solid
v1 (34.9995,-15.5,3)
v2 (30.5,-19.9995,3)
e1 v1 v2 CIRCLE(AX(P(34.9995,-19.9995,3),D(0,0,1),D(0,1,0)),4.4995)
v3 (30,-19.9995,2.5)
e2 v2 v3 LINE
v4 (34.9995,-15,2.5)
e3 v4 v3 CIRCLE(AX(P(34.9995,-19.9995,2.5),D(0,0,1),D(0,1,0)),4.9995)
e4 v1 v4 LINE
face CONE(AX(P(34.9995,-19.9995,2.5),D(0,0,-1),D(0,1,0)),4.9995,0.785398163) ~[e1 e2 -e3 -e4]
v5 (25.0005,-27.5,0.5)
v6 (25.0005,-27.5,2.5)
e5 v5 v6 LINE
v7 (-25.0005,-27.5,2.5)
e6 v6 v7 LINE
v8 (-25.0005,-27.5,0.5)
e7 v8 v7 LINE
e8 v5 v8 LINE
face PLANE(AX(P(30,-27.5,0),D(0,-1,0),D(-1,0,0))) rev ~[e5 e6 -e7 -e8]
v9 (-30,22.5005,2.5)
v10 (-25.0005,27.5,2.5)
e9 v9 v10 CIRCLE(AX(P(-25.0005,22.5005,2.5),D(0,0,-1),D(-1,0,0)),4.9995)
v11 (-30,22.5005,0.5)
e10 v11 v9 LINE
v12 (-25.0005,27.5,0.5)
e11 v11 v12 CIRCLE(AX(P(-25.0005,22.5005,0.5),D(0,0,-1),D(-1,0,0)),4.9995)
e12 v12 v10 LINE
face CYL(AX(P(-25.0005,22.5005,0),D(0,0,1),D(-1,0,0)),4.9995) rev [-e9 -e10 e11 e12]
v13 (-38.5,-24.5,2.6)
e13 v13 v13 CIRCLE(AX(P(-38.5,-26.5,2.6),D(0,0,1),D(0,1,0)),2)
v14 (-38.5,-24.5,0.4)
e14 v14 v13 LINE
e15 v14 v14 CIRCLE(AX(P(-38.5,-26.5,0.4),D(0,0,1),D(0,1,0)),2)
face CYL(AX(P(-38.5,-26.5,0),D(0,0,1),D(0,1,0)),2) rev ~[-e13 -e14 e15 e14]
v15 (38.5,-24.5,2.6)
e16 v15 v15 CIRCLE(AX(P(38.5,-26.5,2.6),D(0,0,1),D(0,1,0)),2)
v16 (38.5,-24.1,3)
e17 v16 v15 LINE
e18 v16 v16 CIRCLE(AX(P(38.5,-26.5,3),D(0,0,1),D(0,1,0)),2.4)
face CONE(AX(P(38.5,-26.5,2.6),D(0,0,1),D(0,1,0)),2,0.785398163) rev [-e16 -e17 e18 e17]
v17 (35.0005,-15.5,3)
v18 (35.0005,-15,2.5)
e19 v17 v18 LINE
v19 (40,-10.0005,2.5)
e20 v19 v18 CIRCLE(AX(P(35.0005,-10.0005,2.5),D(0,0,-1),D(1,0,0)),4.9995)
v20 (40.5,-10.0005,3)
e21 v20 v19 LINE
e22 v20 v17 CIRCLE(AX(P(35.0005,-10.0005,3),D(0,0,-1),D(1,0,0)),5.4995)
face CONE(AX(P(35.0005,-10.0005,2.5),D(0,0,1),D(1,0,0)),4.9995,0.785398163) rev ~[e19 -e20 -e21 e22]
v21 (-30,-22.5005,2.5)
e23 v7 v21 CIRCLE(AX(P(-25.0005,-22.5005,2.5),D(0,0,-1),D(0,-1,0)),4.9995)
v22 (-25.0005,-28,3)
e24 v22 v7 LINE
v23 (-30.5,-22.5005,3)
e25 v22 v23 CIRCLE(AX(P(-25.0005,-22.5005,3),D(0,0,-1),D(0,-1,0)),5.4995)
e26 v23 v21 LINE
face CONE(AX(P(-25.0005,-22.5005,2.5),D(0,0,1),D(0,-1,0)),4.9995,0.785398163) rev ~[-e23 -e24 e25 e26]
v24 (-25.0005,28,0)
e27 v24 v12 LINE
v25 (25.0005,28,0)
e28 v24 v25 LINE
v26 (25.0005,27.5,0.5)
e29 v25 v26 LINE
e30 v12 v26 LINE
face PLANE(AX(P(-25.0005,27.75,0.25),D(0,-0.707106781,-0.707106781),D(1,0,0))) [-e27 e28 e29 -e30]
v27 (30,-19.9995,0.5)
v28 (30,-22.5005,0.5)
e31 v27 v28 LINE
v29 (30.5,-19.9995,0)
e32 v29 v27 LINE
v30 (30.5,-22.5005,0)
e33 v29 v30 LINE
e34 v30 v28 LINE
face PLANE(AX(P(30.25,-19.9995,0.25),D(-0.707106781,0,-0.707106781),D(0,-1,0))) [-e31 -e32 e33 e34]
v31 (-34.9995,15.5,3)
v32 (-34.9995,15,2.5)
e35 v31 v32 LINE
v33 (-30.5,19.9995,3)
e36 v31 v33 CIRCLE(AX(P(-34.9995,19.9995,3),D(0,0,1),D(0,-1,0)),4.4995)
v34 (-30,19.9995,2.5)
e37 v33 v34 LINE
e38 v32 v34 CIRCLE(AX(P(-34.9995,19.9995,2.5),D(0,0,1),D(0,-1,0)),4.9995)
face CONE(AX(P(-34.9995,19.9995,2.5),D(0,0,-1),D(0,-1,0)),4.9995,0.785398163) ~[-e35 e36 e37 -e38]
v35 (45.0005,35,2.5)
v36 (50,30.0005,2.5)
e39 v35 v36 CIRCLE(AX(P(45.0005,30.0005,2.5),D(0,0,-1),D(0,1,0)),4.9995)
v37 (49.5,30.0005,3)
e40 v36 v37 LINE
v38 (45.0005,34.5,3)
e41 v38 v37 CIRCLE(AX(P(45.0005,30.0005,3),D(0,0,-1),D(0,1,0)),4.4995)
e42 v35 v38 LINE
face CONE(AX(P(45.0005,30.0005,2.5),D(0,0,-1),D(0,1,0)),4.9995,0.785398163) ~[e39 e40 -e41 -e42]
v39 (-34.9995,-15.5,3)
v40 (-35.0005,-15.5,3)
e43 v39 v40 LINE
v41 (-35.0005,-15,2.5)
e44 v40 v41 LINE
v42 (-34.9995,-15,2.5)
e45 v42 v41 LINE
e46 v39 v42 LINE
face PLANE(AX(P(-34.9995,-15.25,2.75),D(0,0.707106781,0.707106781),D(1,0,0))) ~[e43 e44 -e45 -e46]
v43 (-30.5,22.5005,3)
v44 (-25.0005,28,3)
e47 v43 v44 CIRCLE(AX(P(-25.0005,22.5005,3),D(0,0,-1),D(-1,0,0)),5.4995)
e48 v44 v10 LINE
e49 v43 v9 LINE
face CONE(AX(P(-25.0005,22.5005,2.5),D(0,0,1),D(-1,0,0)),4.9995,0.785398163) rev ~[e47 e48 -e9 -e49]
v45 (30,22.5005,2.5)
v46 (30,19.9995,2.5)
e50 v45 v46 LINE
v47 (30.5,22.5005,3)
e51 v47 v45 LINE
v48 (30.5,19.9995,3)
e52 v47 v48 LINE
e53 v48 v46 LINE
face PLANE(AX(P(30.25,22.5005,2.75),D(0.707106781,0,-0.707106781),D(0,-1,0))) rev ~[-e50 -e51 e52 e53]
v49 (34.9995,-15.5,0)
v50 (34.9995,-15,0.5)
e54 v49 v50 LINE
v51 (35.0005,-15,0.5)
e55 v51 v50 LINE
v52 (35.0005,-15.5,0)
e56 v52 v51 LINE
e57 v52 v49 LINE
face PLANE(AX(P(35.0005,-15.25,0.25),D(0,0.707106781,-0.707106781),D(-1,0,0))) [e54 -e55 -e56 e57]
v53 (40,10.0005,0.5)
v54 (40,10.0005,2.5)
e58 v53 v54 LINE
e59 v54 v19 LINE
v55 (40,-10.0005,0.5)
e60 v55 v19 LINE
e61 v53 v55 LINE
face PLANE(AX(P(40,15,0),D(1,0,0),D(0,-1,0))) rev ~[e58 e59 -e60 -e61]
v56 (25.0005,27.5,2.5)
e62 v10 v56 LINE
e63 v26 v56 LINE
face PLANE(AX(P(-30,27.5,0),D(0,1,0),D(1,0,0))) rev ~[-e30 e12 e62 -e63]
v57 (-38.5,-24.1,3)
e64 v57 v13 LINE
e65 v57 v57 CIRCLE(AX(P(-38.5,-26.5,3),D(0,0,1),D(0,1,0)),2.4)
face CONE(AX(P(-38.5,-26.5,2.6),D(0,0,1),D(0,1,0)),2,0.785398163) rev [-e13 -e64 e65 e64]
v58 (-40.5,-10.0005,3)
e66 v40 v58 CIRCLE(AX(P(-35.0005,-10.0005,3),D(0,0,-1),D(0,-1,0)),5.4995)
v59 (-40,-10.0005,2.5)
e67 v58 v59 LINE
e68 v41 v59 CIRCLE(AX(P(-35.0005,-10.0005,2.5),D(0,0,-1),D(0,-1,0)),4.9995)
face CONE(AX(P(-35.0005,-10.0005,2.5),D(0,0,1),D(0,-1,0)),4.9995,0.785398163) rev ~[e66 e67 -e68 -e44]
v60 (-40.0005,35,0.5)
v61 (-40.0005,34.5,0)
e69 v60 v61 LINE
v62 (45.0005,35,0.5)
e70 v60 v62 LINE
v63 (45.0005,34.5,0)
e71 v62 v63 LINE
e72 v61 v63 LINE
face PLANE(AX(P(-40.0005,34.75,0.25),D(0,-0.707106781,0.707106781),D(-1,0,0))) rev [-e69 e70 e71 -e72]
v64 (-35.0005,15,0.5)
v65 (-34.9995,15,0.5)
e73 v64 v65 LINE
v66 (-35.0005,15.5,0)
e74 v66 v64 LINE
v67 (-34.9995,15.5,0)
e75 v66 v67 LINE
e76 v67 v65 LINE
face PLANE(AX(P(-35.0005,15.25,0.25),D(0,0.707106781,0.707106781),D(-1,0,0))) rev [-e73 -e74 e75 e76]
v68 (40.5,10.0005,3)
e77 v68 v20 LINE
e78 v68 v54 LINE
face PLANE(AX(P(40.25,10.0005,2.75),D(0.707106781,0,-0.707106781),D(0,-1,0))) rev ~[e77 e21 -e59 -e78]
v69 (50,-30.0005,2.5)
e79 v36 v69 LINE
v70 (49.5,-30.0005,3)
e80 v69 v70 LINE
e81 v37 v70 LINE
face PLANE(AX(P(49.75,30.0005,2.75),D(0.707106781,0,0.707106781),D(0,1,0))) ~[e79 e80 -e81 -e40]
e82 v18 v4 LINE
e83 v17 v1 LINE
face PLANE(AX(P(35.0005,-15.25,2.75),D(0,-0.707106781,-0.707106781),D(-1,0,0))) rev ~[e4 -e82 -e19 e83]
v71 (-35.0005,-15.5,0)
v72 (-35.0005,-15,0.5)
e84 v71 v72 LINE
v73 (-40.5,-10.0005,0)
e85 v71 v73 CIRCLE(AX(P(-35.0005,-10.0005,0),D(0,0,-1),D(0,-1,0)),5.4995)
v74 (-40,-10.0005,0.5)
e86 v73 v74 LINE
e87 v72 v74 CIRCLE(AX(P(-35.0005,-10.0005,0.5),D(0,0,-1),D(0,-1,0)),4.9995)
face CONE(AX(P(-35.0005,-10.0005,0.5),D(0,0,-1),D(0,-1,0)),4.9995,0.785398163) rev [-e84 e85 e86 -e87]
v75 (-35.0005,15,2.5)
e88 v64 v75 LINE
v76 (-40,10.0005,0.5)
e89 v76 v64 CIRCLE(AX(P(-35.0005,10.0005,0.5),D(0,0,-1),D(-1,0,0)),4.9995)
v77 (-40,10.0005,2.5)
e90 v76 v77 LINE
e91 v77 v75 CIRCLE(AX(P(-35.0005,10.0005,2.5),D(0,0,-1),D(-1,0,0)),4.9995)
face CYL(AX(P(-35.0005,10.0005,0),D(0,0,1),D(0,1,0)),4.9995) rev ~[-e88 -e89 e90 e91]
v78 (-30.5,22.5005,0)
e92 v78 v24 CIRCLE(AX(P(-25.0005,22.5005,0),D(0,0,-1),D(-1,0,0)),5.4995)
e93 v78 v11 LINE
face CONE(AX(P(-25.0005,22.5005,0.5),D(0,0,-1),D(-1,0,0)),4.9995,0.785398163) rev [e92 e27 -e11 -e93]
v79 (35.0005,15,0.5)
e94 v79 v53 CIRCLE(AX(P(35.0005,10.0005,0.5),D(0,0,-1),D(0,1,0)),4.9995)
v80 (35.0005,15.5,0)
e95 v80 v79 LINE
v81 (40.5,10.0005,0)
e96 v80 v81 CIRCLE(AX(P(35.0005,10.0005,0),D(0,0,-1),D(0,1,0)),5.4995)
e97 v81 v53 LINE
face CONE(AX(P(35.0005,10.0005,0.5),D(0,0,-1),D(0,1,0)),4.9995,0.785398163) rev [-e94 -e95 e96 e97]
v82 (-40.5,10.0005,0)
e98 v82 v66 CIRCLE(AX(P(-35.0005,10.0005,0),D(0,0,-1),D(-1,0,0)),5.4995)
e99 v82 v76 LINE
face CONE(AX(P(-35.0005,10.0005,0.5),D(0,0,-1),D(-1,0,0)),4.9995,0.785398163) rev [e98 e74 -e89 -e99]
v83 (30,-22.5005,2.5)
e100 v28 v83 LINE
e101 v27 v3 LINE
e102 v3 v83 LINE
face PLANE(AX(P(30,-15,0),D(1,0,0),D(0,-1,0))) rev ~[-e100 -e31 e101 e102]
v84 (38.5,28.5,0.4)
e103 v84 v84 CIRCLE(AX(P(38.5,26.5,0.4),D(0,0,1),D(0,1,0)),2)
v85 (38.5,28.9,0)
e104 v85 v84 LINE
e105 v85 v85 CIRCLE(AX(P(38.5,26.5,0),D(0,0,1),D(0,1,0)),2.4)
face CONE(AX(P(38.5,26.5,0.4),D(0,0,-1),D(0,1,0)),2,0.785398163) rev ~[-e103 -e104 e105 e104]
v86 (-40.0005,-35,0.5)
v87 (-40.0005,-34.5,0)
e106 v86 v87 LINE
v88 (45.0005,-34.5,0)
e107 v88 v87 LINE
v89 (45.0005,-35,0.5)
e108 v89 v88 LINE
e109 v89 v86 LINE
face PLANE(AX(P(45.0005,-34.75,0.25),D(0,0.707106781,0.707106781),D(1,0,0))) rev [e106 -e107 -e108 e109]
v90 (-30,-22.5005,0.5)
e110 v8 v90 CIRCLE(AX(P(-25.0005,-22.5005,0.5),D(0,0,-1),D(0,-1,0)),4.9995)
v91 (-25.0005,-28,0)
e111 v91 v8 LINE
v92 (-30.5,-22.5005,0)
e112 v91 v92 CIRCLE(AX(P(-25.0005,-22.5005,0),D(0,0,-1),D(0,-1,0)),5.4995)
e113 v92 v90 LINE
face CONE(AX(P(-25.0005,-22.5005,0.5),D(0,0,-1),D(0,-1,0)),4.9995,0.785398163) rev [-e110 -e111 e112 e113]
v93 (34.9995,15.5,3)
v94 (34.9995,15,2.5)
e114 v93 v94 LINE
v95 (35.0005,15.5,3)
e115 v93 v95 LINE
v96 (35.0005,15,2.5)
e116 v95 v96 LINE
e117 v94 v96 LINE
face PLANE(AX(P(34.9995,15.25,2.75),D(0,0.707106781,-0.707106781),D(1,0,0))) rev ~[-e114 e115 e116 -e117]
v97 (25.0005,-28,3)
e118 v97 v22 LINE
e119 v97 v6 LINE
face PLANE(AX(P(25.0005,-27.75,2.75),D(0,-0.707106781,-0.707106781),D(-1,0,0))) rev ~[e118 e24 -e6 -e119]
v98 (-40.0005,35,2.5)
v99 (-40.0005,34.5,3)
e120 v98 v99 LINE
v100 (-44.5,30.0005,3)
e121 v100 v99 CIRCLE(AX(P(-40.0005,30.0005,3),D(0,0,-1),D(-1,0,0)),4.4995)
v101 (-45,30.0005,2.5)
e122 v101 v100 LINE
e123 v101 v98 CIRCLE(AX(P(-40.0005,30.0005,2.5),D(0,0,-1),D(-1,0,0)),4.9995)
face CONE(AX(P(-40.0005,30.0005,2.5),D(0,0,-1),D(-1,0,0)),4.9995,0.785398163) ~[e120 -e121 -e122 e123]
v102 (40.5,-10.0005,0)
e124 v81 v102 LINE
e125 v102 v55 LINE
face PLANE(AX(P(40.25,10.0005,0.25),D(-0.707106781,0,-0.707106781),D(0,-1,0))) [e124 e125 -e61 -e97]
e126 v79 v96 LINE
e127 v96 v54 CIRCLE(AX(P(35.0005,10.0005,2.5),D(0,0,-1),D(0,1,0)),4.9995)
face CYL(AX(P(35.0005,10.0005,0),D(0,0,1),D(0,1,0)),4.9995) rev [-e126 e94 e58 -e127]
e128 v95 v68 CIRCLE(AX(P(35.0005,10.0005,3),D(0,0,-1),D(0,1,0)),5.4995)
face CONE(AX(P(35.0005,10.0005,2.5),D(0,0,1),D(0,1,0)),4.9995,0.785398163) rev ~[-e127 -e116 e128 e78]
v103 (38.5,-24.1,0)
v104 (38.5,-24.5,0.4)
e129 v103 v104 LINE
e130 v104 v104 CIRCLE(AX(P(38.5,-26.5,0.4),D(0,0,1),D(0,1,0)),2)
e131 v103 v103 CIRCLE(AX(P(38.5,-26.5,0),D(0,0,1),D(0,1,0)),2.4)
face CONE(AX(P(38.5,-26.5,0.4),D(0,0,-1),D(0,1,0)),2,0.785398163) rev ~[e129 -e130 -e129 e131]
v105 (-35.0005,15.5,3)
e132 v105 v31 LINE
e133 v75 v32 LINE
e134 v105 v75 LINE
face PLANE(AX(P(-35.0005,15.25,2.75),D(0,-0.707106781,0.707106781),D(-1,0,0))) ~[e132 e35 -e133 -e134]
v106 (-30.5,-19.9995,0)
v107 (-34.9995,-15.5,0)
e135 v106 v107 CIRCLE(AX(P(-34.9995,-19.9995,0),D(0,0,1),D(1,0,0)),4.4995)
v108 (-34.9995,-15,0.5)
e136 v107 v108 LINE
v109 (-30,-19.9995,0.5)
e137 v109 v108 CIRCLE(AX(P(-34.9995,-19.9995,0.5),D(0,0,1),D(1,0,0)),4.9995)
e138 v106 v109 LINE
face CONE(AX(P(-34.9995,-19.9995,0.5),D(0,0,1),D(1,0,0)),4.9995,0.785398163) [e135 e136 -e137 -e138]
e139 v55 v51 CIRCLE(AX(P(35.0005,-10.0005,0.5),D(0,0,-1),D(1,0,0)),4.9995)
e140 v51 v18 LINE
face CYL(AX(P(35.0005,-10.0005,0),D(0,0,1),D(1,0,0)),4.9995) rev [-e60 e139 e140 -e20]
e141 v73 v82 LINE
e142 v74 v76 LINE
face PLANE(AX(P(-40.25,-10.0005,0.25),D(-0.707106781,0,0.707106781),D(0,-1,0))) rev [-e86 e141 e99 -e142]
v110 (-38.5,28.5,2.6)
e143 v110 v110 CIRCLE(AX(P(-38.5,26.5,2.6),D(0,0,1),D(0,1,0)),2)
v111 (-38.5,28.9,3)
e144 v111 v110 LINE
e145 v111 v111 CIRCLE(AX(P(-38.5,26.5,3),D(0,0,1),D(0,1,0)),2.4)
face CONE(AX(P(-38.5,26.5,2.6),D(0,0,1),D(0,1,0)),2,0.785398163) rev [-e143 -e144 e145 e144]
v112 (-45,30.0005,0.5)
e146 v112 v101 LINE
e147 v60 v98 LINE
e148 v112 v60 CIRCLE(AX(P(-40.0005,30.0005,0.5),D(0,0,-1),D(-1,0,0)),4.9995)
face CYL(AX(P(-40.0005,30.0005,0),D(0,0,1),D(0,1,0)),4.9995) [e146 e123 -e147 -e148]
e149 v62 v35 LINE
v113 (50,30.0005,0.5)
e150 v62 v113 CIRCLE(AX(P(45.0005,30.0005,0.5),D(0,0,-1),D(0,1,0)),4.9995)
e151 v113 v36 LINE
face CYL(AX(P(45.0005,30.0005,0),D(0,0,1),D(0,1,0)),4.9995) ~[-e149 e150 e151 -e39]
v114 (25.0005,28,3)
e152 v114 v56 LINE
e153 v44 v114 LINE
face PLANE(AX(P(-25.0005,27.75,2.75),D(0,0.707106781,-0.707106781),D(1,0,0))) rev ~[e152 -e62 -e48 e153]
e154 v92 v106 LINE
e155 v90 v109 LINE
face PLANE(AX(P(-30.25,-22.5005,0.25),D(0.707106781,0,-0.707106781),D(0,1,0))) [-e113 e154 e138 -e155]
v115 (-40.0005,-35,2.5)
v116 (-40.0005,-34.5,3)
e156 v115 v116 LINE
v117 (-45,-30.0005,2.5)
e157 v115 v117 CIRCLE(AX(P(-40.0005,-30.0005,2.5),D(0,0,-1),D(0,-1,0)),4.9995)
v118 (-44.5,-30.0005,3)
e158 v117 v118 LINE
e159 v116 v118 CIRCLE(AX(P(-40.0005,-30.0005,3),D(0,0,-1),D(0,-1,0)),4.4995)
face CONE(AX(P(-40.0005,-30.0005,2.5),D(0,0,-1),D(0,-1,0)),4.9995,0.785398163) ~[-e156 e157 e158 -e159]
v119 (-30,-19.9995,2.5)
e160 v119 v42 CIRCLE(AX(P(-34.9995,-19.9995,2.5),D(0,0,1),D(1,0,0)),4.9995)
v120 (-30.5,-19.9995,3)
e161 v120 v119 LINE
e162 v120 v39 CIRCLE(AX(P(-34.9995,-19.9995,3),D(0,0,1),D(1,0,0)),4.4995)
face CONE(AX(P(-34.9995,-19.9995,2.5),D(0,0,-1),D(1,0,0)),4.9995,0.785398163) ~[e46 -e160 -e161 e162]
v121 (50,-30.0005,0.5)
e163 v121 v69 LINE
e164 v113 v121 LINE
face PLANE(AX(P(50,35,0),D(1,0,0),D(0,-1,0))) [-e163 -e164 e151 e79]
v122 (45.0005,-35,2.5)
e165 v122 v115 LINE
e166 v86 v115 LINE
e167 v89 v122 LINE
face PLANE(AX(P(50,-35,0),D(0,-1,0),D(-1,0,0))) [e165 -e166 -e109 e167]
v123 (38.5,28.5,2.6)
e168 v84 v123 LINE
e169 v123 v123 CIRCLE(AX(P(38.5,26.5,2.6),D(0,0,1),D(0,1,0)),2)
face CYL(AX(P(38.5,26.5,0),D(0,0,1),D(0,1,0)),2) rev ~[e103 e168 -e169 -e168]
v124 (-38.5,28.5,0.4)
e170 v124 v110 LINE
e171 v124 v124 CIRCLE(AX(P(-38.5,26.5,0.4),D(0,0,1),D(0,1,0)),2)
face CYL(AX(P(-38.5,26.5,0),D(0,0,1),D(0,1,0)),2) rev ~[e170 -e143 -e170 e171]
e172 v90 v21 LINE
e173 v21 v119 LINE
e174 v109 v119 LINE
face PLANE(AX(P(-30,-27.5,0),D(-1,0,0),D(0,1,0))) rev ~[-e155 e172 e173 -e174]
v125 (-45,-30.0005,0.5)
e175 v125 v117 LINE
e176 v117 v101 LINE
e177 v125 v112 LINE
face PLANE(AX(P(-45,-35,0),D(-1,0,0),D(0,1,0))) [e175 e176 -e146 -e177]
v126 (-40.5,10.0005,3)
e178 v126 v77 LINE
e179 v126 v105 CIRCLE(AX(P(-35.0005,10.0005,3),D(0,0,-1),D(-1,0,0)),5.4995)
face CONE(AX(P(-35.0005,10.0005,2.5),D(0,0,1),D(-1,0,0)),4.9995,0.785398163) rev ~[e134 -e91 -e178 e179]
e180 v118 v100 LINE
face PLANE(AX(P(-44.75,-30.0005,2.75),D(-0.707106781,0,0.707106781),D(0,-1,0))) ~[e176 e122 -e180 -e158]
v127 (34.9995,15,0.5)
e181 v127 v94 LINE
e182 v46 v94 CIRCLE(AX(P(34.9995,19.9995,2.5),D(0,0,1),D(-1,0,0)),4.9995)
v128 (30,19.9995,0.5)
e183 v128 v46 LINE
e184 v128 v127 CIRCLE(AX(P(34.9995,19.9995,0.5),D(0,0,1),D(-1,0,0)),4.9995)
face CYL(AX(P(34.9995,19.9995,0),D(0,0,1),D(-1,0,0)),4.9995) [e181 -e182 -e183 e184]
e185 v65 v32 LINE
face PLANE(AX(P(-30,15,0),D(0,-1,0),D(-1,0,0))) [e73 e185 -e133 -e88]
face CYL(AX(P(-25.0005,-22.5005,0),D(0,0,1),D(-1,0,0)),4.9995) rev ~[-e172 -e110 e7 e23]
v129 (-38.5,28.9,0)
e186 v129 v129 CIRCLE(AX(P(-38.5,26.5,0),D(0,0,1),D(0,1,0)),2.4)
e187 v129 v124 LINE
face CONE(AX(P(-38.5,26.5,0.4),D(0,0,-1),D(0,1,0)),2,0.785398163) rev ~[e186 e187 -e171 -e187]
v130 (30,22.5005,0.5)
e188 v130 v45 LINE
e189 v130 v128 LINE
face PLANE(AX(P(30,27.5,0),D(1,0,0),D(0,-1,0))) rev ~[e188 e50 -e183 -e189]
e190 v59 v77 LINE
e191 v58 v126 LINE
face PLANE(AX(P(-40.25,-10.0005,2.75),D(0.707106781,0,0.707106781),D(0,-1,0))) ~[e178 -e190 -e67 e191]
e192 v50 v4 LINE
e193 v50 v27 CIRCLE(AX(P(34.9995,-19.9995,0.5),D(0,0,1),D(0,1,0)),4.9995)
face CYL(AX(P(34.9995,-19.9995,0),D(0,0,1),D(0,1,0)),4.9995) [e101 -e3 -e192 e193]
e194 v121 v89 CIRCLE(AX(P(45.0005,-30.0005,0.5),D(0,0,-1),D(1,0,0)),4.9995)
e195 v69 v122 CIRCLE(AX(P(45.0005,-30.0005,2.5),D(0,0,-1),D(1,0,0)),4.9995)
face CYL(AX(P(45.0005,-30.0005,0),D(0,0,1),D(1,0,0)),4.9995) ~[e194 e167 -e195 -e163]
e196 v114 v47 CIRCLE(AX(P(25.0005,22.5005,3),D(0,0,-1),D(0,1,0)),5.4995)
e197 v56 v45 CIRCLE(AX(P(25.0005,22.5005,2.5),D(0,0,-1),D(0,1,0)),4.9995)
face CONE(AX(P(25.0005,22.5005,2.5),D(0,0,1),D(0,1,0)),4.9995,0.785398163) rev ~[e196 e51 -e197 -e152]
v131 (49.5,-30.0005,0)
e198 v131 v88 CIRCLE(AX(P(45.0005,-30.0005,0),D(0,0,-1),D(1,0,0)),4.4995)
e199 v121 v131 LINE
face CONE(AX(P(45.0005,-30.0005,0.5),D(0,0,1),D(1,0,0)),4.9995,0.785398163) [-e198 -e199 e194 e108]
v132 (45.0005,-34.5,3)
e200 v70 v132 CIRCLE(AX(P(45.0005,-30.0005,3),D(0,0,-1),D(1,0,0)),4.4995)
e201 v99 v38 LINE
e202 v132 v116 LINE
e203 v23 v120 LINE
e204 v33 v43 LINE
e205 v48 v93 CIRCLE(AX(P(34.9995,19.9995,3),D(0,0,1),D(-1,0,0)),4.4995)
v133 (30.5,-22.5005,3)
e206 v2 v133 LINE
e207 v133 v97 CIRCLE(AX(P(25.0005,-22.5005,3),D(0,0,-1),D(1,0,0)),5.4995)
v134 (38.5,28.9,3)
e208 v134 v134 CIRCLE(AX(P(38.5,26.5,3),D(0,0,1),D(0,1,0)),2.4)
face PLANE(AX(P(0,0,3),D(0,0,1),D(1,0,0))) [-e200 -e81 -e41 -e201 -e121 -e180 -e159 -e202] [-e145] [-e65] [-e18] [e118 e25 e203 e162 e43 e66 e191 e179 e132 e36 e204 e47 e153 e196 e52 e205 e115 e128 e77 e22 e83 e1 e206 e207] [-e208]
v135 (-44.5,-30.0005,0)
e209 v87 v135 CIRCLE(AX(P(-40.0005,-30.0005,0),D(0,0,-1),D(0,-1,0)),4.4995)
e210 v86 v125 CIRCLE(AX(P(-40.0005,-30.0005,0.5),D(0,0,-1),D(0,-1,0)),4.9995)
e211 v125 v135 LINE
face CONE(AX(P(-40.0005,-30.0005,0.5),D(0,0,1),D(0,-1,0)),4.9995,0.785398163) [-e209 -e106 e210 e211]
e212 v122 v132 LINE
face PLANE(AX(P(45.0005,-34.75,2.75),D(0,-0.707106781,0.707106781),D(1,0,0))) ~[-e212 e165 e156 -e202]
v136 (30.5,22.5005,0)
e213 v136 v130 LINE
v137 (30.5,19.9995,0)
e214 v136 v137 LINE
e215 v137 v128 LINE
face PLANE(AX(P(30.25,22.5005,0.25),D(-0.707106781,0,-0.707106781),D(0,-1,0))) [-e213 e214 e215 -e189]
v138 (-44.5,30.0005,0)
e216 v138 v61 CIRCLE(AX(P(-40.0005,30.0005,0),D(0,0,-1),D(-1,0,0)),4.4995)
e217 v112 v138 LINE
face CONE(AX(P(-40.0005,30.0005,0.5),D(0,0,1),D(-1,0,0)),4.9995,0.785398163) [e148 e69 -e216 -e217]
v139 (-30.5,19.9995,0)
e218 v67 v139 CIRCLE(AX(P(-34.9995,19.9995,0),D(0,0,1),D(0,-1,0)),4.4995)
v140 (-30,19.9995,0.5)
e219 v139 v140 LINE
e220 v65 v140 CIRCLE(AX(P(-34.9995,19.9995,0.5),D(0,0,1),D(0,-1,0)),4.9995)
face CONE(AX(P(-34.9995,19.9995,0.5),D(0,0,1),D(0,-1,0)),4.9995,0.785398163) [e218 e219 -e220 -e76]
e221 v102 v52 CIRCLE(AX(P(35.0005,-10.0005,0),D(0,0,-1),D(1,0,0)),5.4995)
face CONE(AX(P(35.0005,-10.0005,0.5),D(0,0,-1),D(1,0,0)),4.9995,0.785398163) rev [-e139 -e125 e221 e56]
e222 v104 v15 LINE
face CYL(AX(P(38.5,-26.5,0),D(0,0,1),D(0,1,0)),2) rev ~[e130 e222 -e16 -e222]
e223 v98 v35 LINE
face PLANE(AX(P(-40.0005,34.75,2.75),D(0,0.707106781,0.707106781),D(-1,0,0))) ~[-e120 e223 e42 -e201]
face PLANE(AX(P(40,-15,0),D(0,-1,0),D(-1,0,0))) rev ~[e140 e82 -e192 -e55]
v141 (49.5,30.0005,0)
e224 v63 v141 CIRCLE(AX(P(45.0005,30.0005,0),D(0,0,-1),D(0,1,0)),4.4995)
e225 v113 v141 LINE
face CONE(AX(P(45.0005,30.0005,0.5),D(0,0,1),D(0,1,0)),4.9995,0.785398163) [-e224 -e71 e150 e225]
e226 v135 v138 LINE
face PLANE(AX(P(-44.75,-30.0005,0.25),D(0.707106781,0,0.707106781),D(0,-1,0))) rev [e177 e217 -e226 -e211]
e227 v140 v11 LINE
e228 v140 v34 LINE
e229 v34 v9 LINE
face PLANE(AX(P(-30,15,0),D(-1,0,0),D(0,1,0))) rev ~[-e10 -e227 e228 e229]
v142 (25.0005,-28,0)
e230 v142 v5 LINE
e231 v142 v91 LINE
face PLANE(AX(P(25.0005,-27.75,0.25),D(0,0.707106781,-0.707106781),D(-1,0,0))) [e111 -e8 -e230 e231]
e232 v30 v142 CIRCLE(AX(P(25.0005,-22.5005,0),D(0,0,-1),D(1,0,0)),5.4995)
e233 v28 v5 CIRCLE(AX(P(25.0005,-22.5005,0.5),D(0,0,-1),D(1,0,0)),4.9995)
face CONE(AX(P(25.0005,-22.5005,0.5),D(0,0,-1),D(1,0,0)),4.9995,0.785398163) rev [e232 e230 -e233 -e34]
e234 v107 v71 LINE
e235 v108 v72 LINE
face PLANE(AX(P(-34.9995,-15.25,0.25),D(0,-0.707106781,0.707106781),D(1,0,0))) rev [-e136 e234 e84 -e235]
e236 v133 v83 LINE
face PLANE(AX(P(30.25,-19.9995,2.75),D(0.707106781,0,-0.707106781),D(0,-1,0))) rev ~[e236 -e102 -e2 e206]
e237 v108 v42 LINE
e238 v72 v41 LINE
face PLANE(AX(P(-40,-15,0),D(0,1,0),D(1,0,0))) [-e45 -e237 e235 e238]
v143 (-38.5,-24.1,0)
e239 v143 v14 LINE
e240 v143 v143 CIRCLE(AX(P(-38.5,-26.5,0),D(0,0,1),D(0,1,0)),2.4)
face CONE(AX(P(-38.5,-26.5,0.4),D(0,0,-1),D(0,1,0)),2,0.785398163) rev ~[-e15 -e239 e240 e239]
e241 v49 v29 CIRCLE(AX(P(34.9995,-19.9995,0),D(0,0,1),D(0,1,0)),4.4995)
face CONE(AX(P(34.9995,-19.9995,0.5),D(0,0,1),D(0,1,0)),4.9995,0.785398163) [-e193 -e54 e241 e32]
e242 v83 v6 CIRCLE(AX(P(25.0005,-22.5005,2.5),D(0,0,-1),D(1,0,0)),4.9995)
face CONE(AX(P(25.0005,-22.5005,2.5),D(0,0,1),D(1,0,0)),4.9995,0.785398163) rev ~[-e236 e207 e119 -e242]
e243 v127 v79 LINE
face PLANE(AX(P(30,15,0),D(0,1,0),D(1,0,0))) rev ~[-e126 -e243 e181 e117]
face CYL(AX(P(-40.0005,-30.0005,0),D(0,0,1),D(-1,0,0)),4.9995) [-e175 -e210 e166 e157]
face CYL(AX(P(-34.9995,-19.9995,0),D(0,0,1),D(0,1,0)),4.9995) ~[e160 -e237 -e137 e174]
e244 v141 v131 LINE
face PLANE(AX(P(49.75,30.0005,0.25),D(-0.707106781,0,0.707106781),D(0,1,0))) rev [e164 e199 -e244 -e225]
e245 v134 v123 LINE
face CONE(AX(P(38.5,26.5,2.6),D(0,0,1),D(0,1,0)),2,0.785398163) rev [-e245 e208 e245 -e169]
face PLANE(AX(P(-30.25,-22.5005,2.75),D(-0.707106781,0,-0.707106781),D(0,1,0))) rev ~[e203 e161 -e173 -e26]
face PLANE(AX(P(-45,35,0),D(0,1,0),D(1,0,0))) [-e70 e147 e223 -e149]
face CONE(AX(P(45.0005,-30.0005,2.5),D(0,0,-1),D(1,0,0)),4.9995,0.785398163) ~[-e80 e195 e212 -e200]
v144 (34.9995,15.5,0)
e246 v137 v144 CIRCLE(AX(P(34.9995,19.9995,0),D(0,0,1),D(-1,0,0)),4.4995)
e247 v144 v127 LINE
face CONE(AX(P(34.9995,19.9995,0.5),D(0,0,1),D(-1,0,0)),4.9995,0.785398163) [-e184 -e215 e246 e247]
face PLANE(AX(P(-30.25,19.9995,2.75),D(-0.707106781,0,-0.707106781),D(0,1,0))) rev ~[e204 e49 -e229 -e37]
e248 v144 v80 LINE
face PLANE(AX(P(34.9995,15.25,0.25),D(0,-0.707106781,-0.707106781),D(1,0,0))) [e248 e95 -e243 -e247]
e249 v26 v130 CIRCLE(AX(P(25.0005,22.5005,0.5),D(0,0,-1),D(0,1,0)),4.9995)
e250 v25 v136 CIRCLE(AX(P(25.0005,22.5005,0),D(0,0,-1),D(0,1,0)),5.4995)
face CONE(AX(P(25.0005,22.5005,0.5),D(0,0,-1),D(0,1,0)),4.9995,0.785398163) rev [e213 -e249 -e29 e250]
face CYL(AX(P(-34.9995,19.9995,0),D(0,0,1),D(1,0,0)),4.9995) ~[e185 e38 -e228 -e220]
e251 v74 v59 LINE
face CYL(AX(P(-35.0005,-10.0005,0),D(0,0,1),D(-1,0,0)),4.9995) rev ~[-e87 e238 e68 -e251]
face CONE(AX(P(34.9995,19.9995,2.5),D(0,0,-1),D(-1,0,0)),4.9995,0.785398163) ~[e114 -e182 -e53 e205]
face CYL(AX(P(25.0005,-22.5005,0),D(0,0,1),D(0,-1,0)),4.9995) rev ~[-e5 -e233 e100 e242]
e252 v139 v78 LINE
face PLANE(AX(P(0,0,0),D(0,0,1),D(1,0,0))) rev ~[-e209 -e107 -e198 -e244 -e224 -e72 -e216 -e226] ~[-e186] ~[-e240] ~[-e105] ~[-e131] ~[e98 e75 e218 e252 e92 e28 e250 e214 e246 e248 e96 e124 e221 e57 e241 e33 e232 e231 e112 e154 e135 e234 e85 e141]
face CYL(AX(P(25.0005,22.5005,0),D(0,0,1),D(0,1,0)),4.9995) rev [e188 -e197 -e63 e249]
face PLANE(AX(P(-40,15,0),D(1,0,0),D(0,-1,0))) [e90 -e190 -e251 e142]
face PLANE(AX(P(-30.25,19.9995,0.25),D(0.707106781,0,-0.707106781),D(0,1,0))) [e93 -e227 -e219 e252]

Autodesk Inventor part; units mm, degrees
ref_plane "YZ Plane" through (0, 0, 0) normal (1, 0, 0) x (0, 1, 0)
ref_plane "XZ Plane" through (0, 0, 0) normal (0, 1, 0) x (-1, 0, 0)
ref_plane "XY Plane" through (0, 0, 0) normal (0, 0, 1) x (1, 0, 0)
sketch "Sketch1" plane through (0, 0, 0) normal (0, 0, 1) x (1, 0, 0)
  line L0 (-45, 35) -> (50, 35)
  line L1 (50, 35) -> (50, -35)
  line L2 (50, -35) -> (-45, -35)
  line L3 (-45, -35) -> (-45, 35)
  line L4 (-38.5, 26.5) -> (38.5, 26.5) construction
  line L5 (38.5, 26.5) -> (38.5, -26.5) construction
  line L6 (38.5, -26.5) -> (-38.5, -26.5) construction
  line L7 (-38.5, -26.5) -> (-38.5, 26.5) construction
  circle A0 centre (-38.5, 26.5) radius 2.5
  circle A1 centre (38.5, 26.5) radius 2.5
  circle A2 centre (38.5, -26.5) radius 2.5
  circle A3 centre (-38.5, -26.5) radius 2.5
  line L8 (-30, 27.5) -> (30, 27.5)
  line L9 (30, 27.5) -> (30, -27.5)
  line L10 (30, -27.5) -> (-30, -27.5)
  line L11 (-30, -27.5) -> (-30, 27.5)
  line L12 (30, 15) -> (40, 15)
  line L13 (40, 15) -> (40, -15)
  line L14 (40, -15) -> (30, -15)
  line L15 (30, -15) -> (30, 15)
  line L16 (-30, 15) -> (-40, 15)
  line L17 (-40, 15) -> (-40, -15)
  line L18 (-40, -15) -> (-30, -15)
  line L19 (-30, -15) -> (-30, 15)
  point P0 (0, 0)
  point P1 (50, 0)
  point P2 (2.5, 35)
  point P3 (38.5, 0)
  point P4 (0, 26.5)
  point P5 (30, 0)
  point P6 (0, 27.5)
  point P7 (-40, 0)
  point P8 (40, 0)
  dimension "d1" = 70
  dimension "d2" = 77
  dimension "d3" = 53
  dimension "d14" = 5
  dimension "d23" = 45
  dimension "d24" = 50
  dimension "d25" = 55
  dimension "d26" = 60
  dimension "d27" = 30
  dimension "d28" = 10
  dimension "d29" = 10
extrude "Extrusion1" add sketch "Sketch1" along normal blind 3 contours L0 L1 L2 L3 | A0 | A1 | A2 | A3
hole "Hole1" at (38.5, 26.5, 0) at (38.5, -26.5, 0) at (-38.5, -26.5, 0) at (-38.5, 26.5, 0) direction (0, 0, 1) diameter 4 end through all
fillet "Fillet1" radius 5 16 edges at (50, 35, 1.5) (50, -35, 1.5) (-45, -35, 1.5) (-45, 35, 1.5) (-30, 27.5, 1.5) (30, 27.5, 1.5) (30, -27.5, 1.5) (-30, -27.5, 1.5) (-30, 15, 1.5) (-40, 15, 1.5) (-40, -15, 1.5) (-30, -15, 1.5) (30, 15, 1.5) (40, 15, 1.5) (40, -15, 1.5) (30, -15, 1.5)
chamfer "Chamfer2" distance 0.5 angle 45 44 edges at (2.5, 35, 0) (-43.5357, 33.5357, 0) (-45, 0, 0) (-43.5357, -33.5357, 0) (2.5, -35, 0) (48.5357, -33.5357, 0) (50, 0, 0) (48.5357, 33.5357, 0) (2.5, 35, 3) (-43.5357, 33.5357, 3) (-45, 0, 3) (-43.5357, -33.5357, 3) (2.5, -35, 3) (48.5357, -33.5357, 3) (50, 0, 3) (48.5357, 33.5357, 3) (0, 27.5, 3) (31.4643, 16.4643, 3) (35, 15, 3) (40, 0, 3) (35, -15, 3) (31.4643, -16.4643, 3) (0, -27.5, 3) (-30, -21.25, 3) (-31.4643, -16.4643, 3) (-35, -15, 3) (-40, 0, 3) (-35, 15, 3) (-31.4643, 16.4643, 3) (-30, 21.25, 3) (0, 27.5, 0) (31.4643, 16.4643, 0) (35, 15, 0) (40, 0, 0) (35, -15, 0) (31.4643, -16.4643, 0) (0, -27.5, 0) (-30, -21.25, 0) (-31.4643, -16.4643, 0) (-35, -15, 0) (-40, 0, 0) (-35, 15, 0) (-31.4643, 16.4643, 0) (-30, 21.25, 0)
chamfer "Chamfer3" distance 0.4 angle 45 8 edges at (-38.5, -28.5, 3) (38.5, -28.5, 3) (-38.5, 24.5, 3) (38.5, 24.5, 3) (-38.5, -28.5, 0) (38.5, -28.5, 0) (-38.5, 24.5, 0) (38.5, 24.5, 0)
equation "\"d1\" = width"
equation "\"d23\" = 0.5 * length"
equation "\"d4\" = thickness"
equation "\"width\" = 70"
equation "\"thickness\" = 3"
equation "\"bump\" = 3"
equation "\"length\" = 90"
properties part number "temp-logger-base-plate-v2" material "ABS Plastic"
